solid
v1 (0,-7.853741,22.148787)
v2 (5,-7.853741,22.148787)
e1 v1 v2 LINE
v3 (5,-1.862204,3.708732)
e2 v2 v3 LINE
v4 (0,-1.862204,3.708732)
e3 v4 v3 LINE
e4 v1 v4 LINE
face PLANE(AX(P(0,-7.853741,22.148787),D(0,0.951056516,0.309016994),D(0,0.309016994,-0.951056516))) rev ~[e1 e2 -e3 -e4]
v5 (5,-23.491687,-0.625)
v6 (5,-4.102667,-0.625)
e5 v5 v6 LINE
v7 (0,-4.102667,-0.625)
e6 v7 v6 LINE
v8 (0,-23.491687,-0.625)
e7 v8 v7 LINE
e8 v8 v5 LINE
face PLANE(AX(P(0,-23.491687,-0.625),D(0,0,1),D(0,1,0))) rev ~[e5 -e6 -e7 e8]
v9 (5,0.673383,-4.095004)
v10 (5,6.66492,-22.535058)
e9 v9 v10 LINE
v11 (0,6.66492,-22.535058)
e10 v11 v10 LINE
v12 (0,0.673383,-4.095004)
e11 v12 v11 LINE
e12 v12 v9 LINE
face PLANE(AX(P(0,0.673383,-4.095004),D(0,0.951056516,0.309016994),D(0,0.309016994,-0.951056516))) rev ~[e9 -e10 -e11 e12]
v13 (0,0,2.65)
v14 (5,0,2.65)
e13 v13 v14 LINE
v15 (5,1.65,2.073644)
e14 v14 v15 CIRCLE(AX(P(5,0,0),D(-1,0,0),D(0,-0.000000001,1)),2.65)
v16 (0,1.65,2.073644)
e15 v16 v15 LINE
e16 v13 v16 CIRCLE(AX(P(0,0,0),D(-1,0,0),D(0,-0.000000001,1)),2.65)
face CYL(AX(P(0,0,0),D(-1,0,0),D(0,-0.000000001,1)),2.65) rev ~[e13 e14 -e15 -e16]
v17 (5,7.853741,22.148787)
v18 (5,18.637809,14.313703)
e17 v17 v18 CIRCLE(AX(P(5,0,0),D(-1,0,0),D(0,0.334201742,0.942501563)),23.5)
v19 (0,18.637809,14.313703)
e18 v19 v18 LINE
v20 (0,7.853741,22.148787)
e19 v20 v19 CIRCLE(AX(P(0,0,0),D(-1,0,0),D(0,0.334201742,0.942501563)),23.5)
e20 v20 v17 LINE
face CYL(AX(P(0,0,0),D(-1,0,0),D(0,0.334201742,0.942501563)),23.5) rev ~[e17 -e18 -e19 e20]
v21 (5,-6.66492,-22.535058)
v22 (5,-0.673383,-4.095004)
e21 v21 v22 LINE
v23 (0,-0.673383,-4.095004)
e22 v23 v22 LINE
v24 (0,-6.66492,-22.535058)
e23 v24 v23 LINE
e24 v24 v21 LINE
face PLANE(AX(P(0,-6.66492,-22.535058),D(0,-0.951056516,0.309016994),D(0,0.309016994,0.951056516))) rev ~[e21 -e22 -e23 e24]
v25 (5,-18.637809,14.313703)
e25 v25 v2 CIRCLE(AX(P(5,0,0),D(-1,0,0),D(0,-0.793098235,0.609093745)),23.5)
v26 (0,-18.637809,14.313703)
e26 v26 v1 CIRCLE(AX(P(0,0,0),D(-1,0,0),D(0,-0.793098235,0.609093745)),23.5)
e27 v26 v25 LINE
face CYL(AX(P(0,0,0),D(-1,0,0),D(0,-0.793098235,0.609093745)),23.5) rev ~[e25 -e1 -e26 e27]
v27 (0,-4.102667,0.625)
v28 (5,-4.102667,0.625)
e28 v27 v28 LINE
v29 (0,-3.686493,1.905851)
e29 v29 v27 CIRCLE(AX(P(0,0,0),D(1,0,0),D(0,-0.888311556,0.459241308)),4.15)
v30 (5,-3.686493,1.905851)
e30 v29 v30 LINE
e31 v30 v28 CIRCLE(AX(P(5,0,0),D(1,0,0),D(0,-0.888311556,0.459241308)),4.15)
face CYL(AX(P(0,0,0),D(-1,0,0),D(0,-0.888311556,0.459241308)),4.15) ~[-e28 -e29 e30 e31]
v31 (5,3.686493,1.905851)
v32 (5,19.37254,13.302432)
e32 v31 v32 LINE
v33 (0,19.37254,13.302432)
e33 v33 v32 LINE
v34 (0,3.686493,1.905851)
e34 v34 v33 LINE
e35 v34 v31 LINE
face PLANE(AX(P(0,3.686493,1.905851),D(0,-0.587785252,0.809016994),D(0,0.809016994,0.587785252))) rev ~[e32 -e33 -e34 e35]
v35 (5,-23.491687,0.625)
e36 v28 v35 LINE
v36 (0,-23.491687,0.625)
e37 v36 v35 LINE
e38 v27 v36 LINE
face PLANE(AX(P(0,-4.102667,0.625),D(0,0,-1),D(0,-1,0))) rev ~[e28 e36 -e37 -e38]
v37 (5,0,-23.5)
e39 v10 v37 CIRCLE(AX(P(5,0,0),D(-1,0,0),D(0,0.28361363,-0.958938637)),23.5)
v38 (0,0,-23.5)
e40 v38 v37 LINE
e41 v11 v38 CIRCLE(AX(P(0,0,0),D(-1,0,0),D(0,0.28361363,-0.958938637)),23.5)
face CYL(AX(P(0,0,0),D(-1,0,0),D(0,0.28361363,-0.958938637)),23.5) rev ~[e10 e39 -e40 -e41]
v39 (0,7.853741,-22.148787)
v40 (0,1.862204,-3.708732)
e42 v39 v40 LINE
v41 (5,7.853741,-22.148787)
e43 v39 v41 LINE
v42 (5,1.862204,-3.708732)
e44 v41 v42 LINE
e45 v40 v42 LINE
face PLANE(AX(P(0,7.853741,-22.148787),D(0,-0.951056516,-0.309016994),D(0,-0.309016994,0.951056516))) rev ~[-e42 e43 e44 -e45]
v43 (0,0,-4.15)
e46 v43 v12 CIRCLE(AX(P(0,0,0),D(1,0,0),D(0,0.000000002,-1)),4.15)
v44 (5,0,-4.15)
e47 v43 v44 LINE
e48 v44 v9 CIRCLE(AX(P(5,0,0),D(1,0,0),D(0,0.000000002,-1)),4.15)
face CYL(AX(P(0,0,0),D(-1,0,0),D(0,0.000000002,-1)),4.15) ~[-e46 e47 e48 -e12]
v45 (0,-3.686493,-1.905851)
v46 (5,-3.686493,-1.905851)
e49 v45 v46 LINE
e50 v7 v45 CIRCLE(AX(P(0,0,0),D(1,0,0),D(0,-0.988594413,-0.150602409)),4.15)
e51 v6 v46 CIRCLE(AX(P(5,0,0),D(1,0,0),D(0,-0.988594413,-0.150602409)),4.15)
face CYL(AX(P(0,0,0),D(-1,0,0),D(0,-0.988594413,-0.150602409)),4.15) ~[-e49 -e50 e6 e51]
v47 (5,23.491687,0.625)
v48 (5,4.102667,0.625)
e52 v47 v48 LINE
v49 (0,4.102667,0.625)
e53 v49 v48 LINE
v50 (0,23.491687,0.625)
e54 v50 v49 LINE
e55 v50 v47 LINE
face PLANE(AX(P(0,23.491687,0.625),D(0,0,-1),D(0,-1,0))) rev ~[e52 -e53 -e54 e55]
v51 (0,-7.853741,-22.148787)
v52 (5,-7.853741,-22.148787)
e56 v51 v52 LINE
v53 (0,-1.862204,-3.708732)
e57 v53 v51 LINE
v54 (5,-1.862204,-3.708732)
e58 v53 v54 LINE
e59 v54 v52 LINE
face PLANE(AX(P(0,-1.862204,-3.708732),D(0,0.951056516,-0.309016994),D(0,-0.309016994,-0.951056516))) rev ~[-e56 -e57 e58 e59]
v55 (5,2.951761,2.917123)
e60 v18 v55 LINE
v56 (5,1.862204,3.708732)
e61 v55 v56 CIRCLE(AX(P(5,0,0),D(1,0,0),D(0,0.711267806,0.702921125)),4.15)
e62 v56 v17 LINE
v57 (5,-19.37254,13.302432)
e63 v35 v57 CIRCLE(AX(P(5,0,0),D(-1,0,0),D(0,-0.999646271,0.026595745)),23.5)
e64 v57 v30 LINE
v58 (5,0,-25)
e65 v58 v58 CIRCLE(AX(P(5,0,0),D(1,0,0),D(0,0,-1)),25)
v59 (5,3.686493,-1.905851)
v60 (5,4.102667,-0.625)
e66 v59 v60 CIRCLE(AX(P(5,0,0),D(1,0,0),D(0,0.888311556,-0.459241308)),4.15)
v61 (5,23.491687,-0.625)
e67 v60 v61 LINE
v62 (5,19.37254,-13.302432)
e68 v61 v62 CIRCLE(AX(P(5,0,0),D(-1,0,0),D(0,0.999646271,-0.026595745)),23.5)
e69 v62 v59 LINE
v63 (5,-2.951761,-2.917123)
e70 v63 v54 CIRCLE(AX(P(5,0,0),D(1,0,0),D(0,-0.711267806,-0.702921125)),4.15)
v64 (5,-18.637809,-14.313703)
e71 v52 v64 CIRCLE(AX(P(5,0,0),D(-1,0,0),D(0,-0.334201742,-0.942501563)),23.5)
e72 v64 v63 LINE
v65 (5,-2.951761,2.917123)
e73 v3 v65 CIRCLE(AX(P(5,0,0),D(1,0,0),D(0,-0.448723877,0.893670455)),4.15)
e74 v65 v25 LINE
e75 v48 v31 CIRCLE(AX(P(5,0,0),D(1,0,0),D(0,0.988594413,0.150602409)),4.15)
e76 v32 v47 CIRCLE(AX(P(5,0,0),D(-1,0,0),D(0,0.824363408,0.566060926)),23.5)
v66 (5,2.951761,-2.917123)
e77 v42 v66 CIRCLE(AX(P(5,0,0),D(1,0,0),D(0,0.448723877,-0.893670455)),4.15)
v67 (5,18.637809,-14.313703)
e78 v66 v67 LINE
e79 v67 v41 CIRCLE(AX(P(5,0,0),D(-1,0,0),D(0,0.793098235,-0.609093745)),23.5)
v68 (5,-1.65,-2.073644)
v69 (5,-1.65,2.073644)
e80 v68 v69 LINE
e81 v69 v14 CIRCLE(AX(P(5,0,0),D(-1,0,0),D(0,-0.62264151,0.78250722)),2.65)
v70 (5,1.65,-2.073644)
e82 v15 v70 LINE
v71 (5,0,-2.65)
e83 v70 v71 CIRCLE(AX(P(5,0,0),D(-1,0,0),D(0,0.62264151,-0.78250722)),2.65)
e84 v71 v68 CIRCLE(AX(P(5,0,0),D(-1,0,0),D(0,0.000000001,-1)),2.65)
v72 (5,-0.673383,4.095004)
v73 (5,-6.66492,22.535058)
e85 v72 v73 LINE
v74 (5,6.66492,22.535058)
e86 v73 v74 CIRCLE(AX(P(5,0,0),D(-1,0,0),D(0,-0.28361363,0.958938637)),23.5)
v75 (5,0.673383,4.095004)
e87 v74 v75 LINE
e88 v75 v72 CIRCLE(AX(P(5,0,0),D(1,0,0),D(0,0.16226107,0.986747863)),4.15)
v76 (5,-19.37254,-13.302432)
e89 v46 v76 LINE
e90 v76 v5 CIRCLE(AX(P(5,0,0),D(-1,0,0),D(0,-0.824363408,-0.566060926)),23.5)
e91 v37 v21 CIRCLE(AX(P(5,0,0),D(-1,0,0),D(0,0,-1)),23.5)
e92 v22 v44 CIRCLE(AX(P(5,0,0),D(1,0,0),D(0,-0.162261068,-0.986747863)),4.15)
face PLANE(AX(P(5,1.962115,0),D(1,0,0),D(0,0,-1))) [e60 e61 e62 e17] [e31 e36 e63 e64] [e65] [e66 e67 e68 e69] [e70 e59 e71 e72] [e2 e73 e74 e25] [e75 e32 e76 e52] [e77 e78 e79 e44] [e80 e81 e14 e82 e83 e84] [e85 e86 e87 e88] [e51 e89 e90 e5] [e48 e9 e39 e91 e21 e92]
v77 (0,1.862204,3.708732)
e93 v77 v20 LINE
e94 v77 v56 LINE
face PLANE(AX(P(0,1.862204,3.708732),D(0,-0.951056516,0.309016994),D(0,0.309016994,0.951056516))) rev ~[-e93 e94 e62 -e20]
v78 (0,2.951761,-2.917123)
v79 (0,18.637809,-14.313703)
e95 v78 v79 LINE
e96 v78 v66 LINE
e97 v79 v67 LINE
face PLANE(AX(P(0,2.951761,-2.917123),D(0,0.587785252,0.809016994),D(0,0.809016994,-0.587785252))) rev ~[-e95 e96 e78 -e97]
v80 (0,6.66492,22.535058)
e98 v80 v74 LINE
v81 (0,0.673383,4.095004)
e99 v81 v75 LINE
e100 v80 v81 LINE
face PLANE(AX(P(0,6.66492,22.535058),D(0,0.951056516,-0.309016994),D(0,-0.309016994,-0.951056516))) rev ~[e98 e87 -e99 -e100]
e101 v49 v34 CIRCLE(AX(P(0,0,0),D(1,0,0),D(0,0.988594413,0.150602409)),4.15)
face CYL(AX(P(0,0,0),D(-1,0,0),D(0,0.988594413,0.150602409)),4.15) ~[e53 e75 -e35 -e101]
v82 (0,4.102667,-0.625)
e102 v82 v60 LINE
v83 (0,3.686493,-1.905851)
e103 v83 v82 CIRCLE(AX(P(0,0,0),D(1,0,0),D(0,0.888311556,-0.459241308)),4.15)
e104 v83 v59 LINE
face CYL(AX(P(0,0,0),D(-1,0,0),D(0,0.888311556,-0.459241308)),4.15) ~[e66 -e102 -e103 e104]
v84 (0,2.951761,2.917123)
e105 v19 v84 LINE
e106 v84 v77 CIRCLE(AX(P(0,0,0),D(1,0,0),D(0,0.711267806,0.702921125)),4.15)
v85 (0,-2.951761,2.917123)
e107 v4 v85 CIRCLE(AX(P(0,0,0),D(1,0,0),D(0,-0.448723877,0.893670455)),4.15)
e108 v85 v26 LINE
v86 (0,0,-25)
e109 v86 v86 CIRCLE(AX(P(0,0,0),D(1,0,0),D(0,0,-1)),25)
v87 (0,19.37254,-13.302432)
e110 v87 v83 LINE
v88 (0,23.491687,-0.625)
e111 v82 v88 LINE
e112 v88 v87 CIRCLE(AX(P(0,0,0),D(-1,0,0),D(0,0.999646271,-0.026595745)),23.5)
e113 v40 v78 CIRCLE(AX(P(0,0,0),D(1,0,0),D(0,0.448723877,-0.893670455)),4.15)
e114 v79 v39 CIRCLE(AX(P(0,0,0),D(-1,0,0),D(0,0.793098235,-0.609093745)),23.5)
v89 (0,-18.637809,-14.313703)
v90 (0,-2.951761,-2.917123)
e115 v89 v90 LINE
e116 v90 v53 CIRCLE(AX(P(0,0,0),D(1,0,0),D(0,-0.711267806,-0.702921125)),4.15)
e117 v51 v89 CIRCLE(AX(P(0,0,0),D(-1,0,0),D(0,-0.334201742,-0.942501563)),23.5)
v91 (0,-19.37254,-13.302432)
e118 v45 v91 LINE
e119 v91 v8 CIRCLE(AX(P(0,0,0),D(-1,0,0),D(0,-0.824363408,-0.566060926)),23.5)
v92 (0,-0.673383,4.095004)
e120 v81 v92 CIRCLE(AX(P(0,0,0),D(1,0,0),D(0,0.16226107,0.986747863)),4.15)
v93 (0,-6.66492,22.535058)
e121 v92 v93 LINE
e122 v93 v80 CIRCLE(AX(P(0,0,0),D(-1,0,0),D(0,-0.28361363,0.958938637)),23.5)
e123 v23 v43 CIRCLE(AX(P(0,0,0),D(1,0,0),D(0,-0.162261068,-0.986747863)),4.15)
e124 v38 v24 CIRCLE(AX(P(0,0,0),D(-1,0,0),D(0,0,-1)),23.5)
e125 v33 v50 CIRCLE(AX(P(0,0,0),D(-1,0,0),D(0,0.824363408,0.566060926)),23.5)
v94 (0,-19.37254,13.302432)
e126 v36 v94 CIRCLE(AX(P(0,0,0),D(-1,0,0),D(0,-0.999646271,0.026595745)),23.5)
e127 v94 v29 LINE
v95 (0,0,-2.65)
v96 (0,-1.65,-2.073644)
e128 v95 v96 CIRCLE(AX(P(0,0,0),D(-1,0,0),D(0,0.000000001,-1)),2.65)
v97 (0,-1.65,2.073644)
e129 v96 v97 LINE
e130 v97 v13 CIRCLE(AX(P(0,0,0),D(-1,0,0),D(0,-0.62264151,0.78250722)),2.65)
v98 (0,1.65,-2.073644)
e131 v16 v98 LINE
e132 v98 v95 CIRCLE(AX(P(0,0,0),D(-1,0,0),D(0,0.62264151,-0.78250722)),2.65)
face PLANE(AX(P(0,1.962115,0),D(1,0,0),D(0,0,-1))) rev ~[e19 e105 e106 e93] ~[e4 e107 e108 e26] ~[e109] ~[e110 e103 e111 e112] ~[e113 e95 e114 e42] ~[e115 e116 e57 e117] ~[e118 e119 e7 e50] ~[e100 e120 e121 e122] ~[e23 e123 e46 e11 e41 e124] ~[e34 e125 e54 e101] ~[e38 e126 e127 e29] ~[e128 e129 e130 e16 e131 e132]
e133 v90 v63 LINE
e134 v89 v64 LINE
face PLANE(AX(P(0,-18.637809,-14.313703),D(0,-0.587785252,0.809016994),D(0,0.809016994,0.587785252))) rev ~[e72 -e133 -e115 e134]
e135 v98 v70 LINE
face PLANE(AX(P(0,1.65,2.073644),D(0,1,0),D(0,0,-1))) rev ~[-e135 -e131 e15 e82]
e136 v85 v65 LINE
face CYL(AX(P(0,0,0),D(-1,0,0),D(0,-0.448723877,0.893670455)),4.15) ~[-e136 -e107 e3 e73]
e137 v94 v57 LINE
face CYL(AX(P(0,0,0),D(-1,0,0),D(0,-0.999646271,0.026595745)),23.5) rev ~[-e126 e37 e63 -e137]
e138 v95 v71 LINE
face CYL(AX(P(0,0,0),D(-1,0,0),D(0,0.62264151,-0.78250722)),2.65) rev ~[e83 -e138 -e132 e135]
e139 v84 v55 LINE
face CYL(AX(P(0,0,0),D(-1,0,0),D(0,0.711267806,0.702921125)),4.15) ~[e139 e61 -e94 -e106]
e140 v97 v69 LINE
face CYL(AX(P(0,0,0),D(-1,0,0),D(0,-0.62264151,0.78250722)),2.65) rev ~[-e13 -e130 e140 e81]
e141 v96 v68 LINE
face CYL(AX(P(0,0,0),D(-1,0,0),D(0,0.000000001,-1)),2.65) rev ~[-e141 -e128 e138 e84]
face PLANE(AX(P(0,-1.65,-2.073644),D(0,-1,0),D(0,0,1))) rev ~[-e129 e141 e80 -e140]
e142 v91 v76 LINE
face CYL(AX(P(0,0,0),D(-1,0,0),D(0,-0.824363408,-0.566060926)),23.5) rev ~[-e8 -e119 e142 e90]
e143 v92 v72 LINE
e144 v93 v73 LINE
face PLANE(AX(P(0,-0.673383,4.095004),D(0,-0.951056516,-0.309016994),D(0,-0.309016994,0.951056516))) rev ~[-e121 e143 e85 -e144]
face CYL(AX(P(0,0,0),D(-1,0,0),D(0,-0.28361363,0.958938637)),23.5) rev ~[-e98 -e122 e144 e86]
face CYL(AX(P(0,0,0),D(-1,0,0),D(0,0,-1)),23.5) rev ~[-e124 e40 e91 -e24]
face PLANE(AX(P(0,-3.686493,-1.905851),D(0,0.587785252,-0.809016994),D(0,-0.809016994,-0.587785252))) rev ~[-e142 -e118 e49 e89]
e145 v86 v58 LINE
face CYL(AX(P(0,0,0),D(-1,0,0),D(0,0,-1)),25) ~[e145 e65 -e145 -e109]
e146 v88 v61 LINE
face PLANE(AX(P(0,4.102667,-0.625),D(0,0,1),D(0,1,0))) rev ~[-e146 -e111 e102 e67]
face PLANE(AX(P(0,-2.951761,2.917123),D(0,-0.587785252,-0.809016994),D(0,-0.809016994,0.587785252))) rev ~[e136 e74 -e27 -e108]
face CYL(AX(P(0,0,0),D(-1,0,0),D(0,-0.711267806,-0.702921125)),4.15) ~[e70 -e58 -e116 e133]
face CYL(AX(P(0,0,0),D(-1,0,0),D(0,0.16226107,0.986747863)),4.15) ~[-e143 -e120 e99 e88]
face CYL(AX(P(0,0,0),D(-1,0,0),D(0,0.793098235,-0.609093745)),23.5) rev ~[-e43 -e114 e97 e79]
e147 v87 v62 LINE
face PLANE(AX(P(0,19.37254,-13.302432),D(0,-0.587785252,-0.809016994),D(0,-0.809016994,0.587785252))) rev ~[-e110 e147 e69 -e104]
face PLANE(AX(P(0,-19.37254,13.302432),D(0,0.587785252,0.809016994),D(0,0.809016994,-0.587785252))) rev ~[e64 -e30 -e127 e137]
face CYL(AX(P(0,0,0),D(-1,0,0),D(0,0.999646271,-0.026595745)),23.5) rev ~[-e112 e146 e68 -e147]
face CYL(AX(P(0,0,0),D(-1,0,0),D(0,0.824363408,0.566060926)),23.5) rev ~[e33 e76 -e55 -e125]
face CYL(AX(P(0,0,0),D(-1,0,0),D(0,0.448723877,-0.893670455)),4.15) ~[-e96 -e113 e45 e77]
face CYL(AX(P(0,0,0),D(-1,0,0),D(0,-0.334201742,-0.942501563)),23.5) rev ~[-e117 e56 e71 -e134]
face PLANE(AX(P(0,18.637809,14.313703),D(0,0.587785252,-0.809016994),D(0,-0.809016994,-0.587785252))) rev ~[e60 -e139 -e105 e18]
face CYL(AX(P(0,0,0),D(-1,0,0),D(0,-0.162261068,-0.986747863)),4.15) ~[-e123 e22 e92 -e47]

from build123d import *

# Parameters (mm, degrees)
SKETCH1_R           = 25
BOSS_EXTRUDE2_DEPTH = 5


with BuildPart() as part:
    # Sketch1 → Boss-Extrude2 (new body)
    # profile 1 of 38: a face of its own
    with BuildSketch(Plane(origin=(0, 0, 0), x_dir=(0, 0, -1), z_dir=(1, 0, 0))):
        Circle(SKETCH1_R)
        with BuildLine():
            ThreePointArc((-13.30243176, 19.372540083), (-7.261899368, 22.349828133), (-0.625, 23.49168736))
            Line((-0.625, 23.49168736), (-0.625, 23.832616044))
            Line((-0.625, 23.832616044), (0.625, 23.832616044))
            Line((0.625, 23.832616044), (0.625, 23.49168736))
            ThreePointArc((0.625, 23.49168736), (7.261899368, 22.349828133), (13.30243176, 19.372540083))
            Line((13.30243176, 19.372540083), (13.502824613, 19.648357183))
            Line((13.502824613, 19.648357183), (14.514095856, 18.913625618))
            Line((14.514095856, 18.913625618), (14.313703003, 18.637808518))
            ThreePointArc((14.313703003, 18.637808518), (19.011899368, 13.812953429), (22.148786721, 7.853740943))
            Line((22.148786721, 7.853740943), (22.473029168, 7.959093701))
            Line((22.473029168, 7.959093701), (22.859300411, 6.770273055))
            Line((22.859300411, 6.770273055), (22.535057964, 6.664920298))
            ThreePointArc((22.535057964, 6.664920298), (23.257513433, 3.367204913), (23.5, 0))
            ThreePointArc((23.5, 0), (23.257513433, -3.367204913), (22.535057964, -6.664920298))
            Line((22.535057964, -6.664920298), (22.859300411, -6.770273055))
            Line((22.859300411, -6.770273055), (22.473029168, -7.959093701))
            Line((22.473029168, -7.959093701), (22.148786721, -7.853740943))
            ThreePointArc((22.148786721, -7.853740943), (19.011899368, -13.812953429), (14.313703003, -18.637808518))
            Line((14.313703003, -18.637808518), (14.514095856, -18.913625618))
            Line((14.514095856, -18.913625618), (13.502824613, -19.648357183))
            Line((13.502824613, -19.648357183), (13.30243176, -19.372540083))
            ThreePointArc((13.30243176, -19.372540083), (7.261899368, -22.349828133), (0.625, -23.49168736))
            Line((0.625, -23.49168736), (0.625, -23.832616044))
            Line((0.625, -23.832616044), (-0.625, -23.832616044))
            Line((-0.625, -23.832616044), (-0.625, -23.49168736))
            ThreePointArc((-0.625, -23.49168736), (-7.261899368, -22.349828133), (-13.30243176, -19.372540083))
            Line((-13.30243176, -19.372540083), (-13.502824613, -19.648357183))
            Line((-13.502824613, -19.648357183), (-14.514095856, -18.913625618))
            Line((-14.514095856, -18.913625618), (-14.313703003, -18.637808518))
            ThreePointArc((-14.313703003, -18.637808518), (-19.011899368, -13.812953429), (-22.148786721, -7.853740943))
            Line((-22.148786721, -7.853740943), (-22.473029168, -7.959093701))
            Line((-22.473029168, -7.959093701), (-22.859300411, -6.770273055))
            Line((-22.859300411, -6.770273055), (-22.535057964, -6.664920298))
            ThreePointArc((-22.535057964, -6.664920298), (-23.5, 0), (-22.535057964, 6.664920298))
            Line((-22.535057964, 6.664920298), (-22.859300411, 6.770273055))
            Line((-22.859300411, 6.770273055), (-22.473029168, 7.959093701))
            Line((-22.473029168, 7.959093701), (-22.148786721, 7.853740943))
            ThreePointArc((-22.148786721, 7.853740943), (-19.011899368, 13.812953429), (-14.313703003, 18.637808518))
            Line((-14.313703003, 18.637808518), (-14.514095856, 18.913625618))
            Line((-14.514095856, 18.913625618), (-13.502824613, 19.648357183))
            Line((-13.502824613, 19.648357183), (-13.30243176, 19.372540083))
        make_face(mode=Mode.SUBTRACT)
    # profile 2 of 38: a face of its own
    with BuildSketch(Plane(origin=(0, 0, 0), x_dir=(0, 0, -1), z_dir=(1, 0, 0))):
        with BuildLine():
            Line((-0.625, 23.49168736), (-0.625, 4.102666816))
            ThreePointArc((-0.625, 4.102666816), (0, 4.15), (0.625, 4.102666816))
            Line((0.625, 4.102666816), (0.625, 23.49168736))
            ThreePointArc((0.625, 23.49168736), (0, 23.5), (-0.625, 23.49168736))
        make_face()
    # profile 3 of 38: a face of its own
    with BuildSketch(Plane(origin=(0, 0, 0), x_dir=(0, 0, -1), z_dir=(1, 0, 0))):
        with BuildLine():
            Line((-0.625, 23.832616044), (-0.625, 23.49168736))
            ThreePointArc((-0.625, 23.49168736), (0, 23.5), (0.625, 23.49168736))
            Line((0.625, 23.49168736), (0.625, 23.832616044))
            Line((0.625, 23.832616044), (-0.625, 23.832616044))
        make_face()
    # profile 4 of 38: a face of its own
    with BuildSketch(Plane(origin=(0, 0, 0), x_dir=(0, 0, -1), z_dir=(1, 0, 0))):
        with BuildLine():
            ThreePointArc((-14.313703003, 18.637808518), (-13.812953429, 19.011899368), (-13.30243176, 19.372540083))
            Line((-13.30243176, 19.372540083), (-13.502824613, 19.648357183))
            Line((-13.502824613, 19.648357183), (-14.514095856, 18.913625618))
            Line((-14.514095856, 18.913625618), (-14.313703003, 18.637808518))
        make_face()
    # profile 5 of 38: a face of its own
    with BuildSketch(Plane(origin=(0, 0, 0), x_dir=(0, 0, -1), z_dir=(1, 0, 0))):
        with BuildLine():
            ThreePointArc((-2.917122671, 2.951761393), (-2.439308797, 3.357420527), (-1.905851428, 3.686492959))
            Line((-1.905851428, 3.686492959), (-13.30243176, 19.372540083))
            ThreePointArc((-13.30243176, 19.372540083), (-13.812953429, 19.011899368), (-14.313703003, 18.637808518))
            Line((-14.313703003, 18.637808518), (-2.917122671, 2.951761393))
        make_face()
    # profile 6 of 38: a face of its own
    with BuildSketch(Plane(origin=(0, 0, 0), x_dir=(0, 0, -1), z_dir=(1, 0, 0))):
        with BuildLine():
            ThreePointArc((-22.535057964, 6.664920298), (-22.349828133, 7.261899368), (-22.148786721, 7.853740943))
            Line((-22.148786721, 7.853740943), (-22.473029168, 7.959093701))
            Line((-22.473029168, 7.959093701), (-22.859300411, 6.770273055))
            Line((-22.859300411, 6.770273055), (-22.535057964, 6.664920298))
        make_face()
    # profile 7 of 38: a face of its own
    with BuildSketch(Plane(origin=(0, 0, 0), x_dir=(0, 0, -1), z_dir=(1, 0, 0))):
        with BuildLine():
            ThreePointArc((-4.095003631, 0.673383446), (-3.946884543, 1.282420527), (-3.708732388, 1.862204091))
            Line((-3.708732388, 1.862204091), (-22.148786721, 7.853740943))
            ThreePointArc((-22.148786721, 7.853740943), (-22.349828133, 7.261899368), (-22.535057964, 6.664920298))
            Line((-22.535057964, 6.664920298), (-4.095003631, 0.673383446))
        make_face()
    # profile 8 of 38: a face of its own
    with BuildSketch(Plane(origin=(0, 0, 0), x_dir=(0, 0, -1), z_dir=(1, 0, 0))):
        with BuildLine():
            ThreePointArc((-22.148786721, -7.853740943), (-22.349828133, -7.261899368), (-22.535057964, -6.664920298))
            Line((-22.535057964, -6.664920298), (-22.859300411, -6.770273055))
            Line((-22.859300411, -6.770273055), (-22.473029168, -7.959093701))
            Line((-22.473029168, -7.959093701), (-22.148786721, -7.853740943))
        make_face()
    # profile 9 of 38: a face of its own
    with BuildSketch(Plane(origin=(0, 0, 0), x_dir=(0, 0, -1), z_dir=(1, 0, 0))):
        with BuildLine():
            ThreePointArc((-13.30243176, -19.372540083), (-13.812953429, -19.011899368), (-14.313703003, -18.637808518))
            Line((-14.313703003, -18.637808518), (-14.514095856, -18.913625618))
            Line((-14.514095856, -18.913625618), (-13.502824613, -19.648357183))
            Line((-13.502824613, -19.648357183), (-13.30243176, -19.372540083))
        make_face()
    # profile 10 of 38: a face of its own
    with BuildSketch(Plane(origin=(0, 0, 0), x_dir=(0, 0, -1), z_dir=(1, 0, 0))):
        with BuildLine():
            ThreePointArc((-1.905851428, -3.686492959), (-2.439308797, -3.357420527), (-2.917122671, -2.951761393))
            Line((-2.917122671, -2.951761393), (-14.313703003, -18.637808518))
            ThreePointArc((-14.313703003, -18.637808518), (-13.812953429, -19.011899368), (-13.30243176, -19.372540083))
            Line((-13.30243176, -19.372540083), (-1.905851428, -3.686492959))
        make_face()
    # profile 11 of 38: a face of its own
    with BuildSketch(Plane(origin=(0, 0, 0), x_dir=(0, 0, -1), z_dir=(1, 0, 0))):
        with BuildLine():
            ThreePointArc((-3.708732388, -1.862204091), (-3.946884543, -1.282420527), (-4.095003631, -0.673383446))
            Line((-4.095003631, -0.673383446), (-22.535057964, -6.664920298))
            ThreePointArc((-22.535057964, -6.664920298), (-22.349828133, -7.261899368), (-22.148786721, -7.853740943))
            Line((-22.148786721, -7.853740943), (-3.708732388, -1.862204091))
        make_face()
    # profile 12 of 38: a face of its own
    with BuildSketch(Plane(origin=(0, 0, 0), x_dir=(0, 0, -1), z_dir=(1, 0, 0))):
        with BuildLine():
            ThreePointArc((0.625, -23.49168736), (0, -23.5), (-0.625, -23.49168736))
            Line((-0.625, -23.49168736), (-0.625, -23.832616044))
            Line((-0.625, -23.832616044), (0.625, -23.832616044))
            Line((0.625, -23.832616044), (0.625, -23.49168736))
        make_face()
    # profile 13 of 38: a face of its own
    with BuildSketch(Plane(origin=(0, 0, 0), x_dir=(0, 0, -1), z_dir=(1, 0, 0))):
        with BuildLine():
            ThreePointArc((0.625, -4.102666816), (0, -4.15), (-0.625, -4.102666816))
            Line((-0.625, -4.102666816), (-0.625, -23.49168736))
            ThreePointArc((-0.625, -23.49168736), (0, -23.5), (0.625, -23.49168736))
            Line((0.625, -23.49168736), (0.625, -4.102666816))
        make_face()
    # profile 14 of 38: a face of its own
    with BuildSketch(Plane(origin=(0, 0, 0), x_dir=(0, 0, -1), z_dir=(1, 0, 0))):
        with BuildLine():
            Line((14.514095856, -18.913625618), (14.313703003, -18.637808518))
            ThreePointArc((14.313703003, -18.637808518), (13.812953429, -19.011899368), (13.30243176, -19.372540083))
            Line((13.30243176, -19.372540083), (13.502824613, -19.648357183))
            Line((13.502824613, -19.648357183), (14.514095856, -18.913625618))
        make_face()
    # profile 15 of 38: a face of its own
    with BuildSketch(Plane(origin=(0, 0, 0), x_dir=(0, 0, -1), z_dir=(1, 0, 0))):
        with BuildLine():
            Line((14.313703003, -18.637808518), (2.917122671, -2.951761393))
            ThreePointArc((2.917122671, -2.951761393), (2.439308797, -3.357420527), (1.905851428, -3.686492959))
            Line((1.905851428, -3.686492959), (13.30243176, -19.372540083))
            ThreePointArc((13.30243176, -19.372540083), (13.812953429, -19.011899368), (14.313703003, -18.637808518))
        make_face()
    # profile 16 of 38: a face of its own
    with BuildSketch(Plane(origin=(0, 0, 0), x_dir=(0, 0, -1), z_dir=(1, 0, 0))):
        with BuildLine():
            Line((22.859300411, -6.770273055), (22.535057964, -6.664920298))
            ThreePointArc((22.535057964, -6.664920298), (22.349828133, -7.261899368), (22.148786721, -7.853740943))
            Line((22.148786721, -7.853740943), (22.473029168, -7.959093701))
            Line((22.473029168, -7.959093701), (22.859300411, -6.770273055))
        make_face()
    # profile 17 of 38: a face of its own
    with BuildSketch(Plane(origin=(0, 0, 0), x_dir=(0, 0, -1), z_dir=(1, 0, 0))):
        with BuildLine():
            Line((22.535057964, -6.664920298), (4.095003631, -0.673383446))
            ThreePointArc((4.095003631, -0.673383446), (3.946884543, -1.282420527), (3.708732388, -1.862204091))
            Line((3.708732388, -1.862204091), (22.148786721, -7.853740943))
            ThreePointArc((22.148786721, -7.853740943), (22.349828133, -7.261899368), (22.535057964, -6.664920298))
        make_face()
    # profile 18 of 38: a face of its own
    with BuildSketch(Plane(origin=(0, 0, 0), x_dir=(0, 0, -1), z_dir=(1, 0, 0))):
        with BuildLine():
            Line((22.473029168, 7.959093701), (22.148786721, 7.853740943))
            ThreePointArc((22.148786721, 7.853740943), (22.349828133, 7.261899368), (22.535057964, 6.664920298))
            Line((22.535057964, 6.664920298), (22.859300411, 6.770273055))
            Line((22.859300411, 6.770273055), (22.473029168, 7.959093701))
        make_face()
    # profile 19 of 38: a face of its own
    with BuildSketch(Plane(origin=(0, 0, 0), x_dir=(0, 0, -1), z_dir=(1, 0, 0))):
        with BuildLine():
            Line((22.148786721, 7.853740943), (3.708732388, 1.862204091))
            ThreePointArc((3.708732388, 1.862204091), (3.946884543, 1.282420527), (4.095003631, 0.673383446))
            Line((4.095003631, 0.673383446), (22.535057964, 6.664920298))
            ThreePointArc((22.535057964, 6.664920298), (22.349828133, 7.261899368), (22.148786721, 7.853740943))
        make_face()
    # profile 20 of 38: a face of its own
    with BuildSketch(Plane(origin=(0, 0, 0), x_dir=(0, 0, -1), z_dir=(1, 0, 0))):
        with BuildLine():
            Line((13.502824613, 19.648357183), (13.30243176, 19.372540083))
            ThreePointArc((13.30243176, 19.372540083), (13.812953429, 19.011899368), (14.313703003, 18.637808518))
            Line((14.313703003, 18.637808518), (14.514095856, 18.913625618))
            Line((14.514095856, 18.913625618), (13.502824613, 19.648357183))
        make_face()
    # profile 21 of 38: a face of its own
    with BuildSketch(Plane(origin=(0, 0, 0), x_dir=(0, 0, -1), z_dir=(1, 0, 0))):
        with BuildLine():
            Line((13.30243176, 19.372540083), (1.905851428, 3.686492959))
            ThreePointArc((1.905851428, 3.686492959), (2.439308797, 3.357420527), (2.917122671, 2.951761393))
            Line((2.917122671, 2.951761393), (14.313703003, 18.637808518))
            ThreePointArc((14.313703003, 18.637808518), (13.812953429, 19.011899368), (13.30243176, 19.372540083))
        make_face()
    # profile 22 of 38: a face of its own
    with BuildSketch(Plane(origin=(0, 0, 0), x_dir=(0, 0, -1), z_dir=(1, 0, 0))):
        with BuildLine():
            Line((-3.838170085, -0.589933168), (-4.095003631, -0.673383446))
            ThreePointArc((-4.095003631, -0.673383446), (-3.946884543, -1.282420527), (-3.708732388, -1.862204091))
            Line((-3.708732388, -1.862204091), (-3.451898842, -1.778753813))
            Line((-3.451898842, -1.778753813), (-3.838170085, -0.589933168))
        make_face()
    # profile 23 of 38: a face of its own
    with BuildSketch(Plane(origin=(0, 0, 0), x_dir=(0, 0, -1), z_dir=(1, 0, 0))):
        with BuildLine():
            Line((-2.75839081, -2.73328573), (-2.917122671, -2.951761393))
            ThreePointArc((-2.917122671, -2.951761393), (-2.439308797, -3.357420527), (-1.905851428, -3.686492959))
            Line((-1.905851428, -3.686492959), (-1.747119567, -3.468017295))
            Line((-1.747119567, -3.468017295), (-2.75839081, -2.73328573))
        make_face()
    # profile 24 of 38: a face of its own
    with BuildSketch(Plane(origin=(0, 0, 0), x_dir=(0, 0, -1), z_dir=(1, 0, 0))):
        with BuildLine():
            Line((-0.625, -3.832616044), (-0.625, -4.102666816))
            ThreePointArc((-0.625, -4.102666816), (0, -4.15), (0.625, -4.102666816))
            Line((0.625, -4.102666816), (0.625, -3.832616044))
            Line((0.625, -3.832616044), (-0.625, -3.832616044))
        make_face()
    # profile 25 of 38: a face of its own
    with BuildSketch(Plane(origin=(0, 0, 0), x_dir=(0, 0, -1), z_dir=(1, 0, 0))):
        with BuildLine():
            ThreePointArc((1.905851428, -3.686492959), (2.439308797, -3.357420527), (2.917122671, -2.951761393))
            Line((2.917122671, -2.951761393), (2.75839081, -2.73328573))
            Line((2.75839081, -2.73328573), (1.747119567, -3.468017295))
            Line((1.747119567, -3.468017295), (1.905851428, -3.686492959))
        make_face()
    # profile 26 of 38: a face of its own
    with BuildSketch(Plane(origin=(0, 0, 0), x_dir=(0, 0, -1), z_dir=(1, 0, 0))):
        with BuildLine():
            ThreePointArc((3.708732388, -1.862204091), (3.946884543, -1.282420527), (4.095003631, -0.673383446))
            Line((4.095003631, -0.673383446), (3.838170085, -0.589933168))
            Line((3.838170085, -0.589933168), (3.451898842, -1.778753813))
            Line((3.451898842, -1.778753813), (3.708732388, -1.862204091))
        make_face()
    # profile 27 of 38: a face of its own
    with BuildSketch(Plane(origin=(0, 0, 0), x_dir=(0, 0, -1), z_dir=(1, 0, 0))):
        with BuildLine():
            ThreePointArc((4.095003631, 0.673383446), (3.946884543, 1.282420527), (3.708732388, 1.862204091))
            Line((3.708732388, 1.862204091), (3.451898842, 1.778753813))
            Line((3.451898842, 1.778753813), (3.838170085, 0.589933168))
            Line((3.838170085, 0.589933168), (4.095003631, 0.673383446))
        make_face()
    # profile 28 of 38: a face of its own
    with BuildSketch(Plane(origin=(0, 0, 0), x_dir=(0, 0, -1), z_dir=(1, 0, 0))):
        with BuildLine():
            ThreePointArc((2.917122671, 2.951761393), (2.439308797, 3.357420527), (1.905851428, 3.686492959))
            Line((1.905851428, 3.686492959), (1.747119567, 3.468017295))
            Line((1.747119567, 3.468017295), (2.75839081, 2.73328573))
            Line((2.75839081, 2.73328573), (2.917122671, 2.951761393))
        make_face()
    # profile 29 of 38: a face of its own
    with BuildSketch(Plane(origin=(0, 0, 0), x_dir=(0, 0, -1), z_dir=(1, 0, 0))):
        with BuildLine():
            Line((-0.625, 4.102666816), (-0.625, 3.832616044))
            Line((-0.625, 3.832616044), (0.625, 3.832616044))
            Line((0.625, 3.832616044), (0.625, 4.102666816))
            ThreePointArc((0.625, 4.102666816), (0, 4.15), (-0.625, 4.102666816))
        make_face()
    # profile 30 of 38: a face of its own
    with BuildSketch(Plane(origin=(0, 0, 0), x_dir=(0, 0, -1), z_dir=(1, 0, 0))):
        with BuildLine():
            Line((-1.747119567, 3.468017295), (-1.905851428, 3.686492959))
            ThreePointArc((-1.905851428, 3.686492959), (-2.439308797, 3.357420527), (-2.917122671, 2.951761393))
            Line((-2.917122671, 2.951761393), (-2.75839081, 2.73328573))
            Line((-2.75839081, 2.73328573), (-1.747119567, 3.468017295))
        make_face()
    # profile 31 of 38: a face of its own
    with BuildSketch(Plane(origin=(0, 0, 0), x_dir=(0, 0, -1), z_dir=(1, 0, 0))):
        with BuildLine():
            Line((-3.451898842, 1.778753813), (-3.708732388, 1.862204091))
            ThreePointArc((-3.708732388, 1.862204091), (-3.946884543, 1.282420527), (-4.095003631, 0.673383446))
            Line((-4.095003631, 0.673383446), (-3.838170085, 0.589933168))
            Line((-3.838170085, 0.589933168), (-3.451898842, 1.778753813))
        make_face()
    # profile 32 of 38: a face of its own
    with BuildSketch(Plane(origin=(0, 0, 0), x_dir=(0, 0, -1), z_dir=(1, 0, 0))):
        with BuildLine():
            Line((0.625, 3.832616044), (-0.625, 3.832616044))
            Line((-0.625, 3.832616044), (-0.625, 4.102666816))
            ThreePointArc((-0.625, 4.102666816), (-1.282420527, 3.946884543), (-1.905851428, 3.686492959))
            Line((-1.905851428, 3.686492959), (-1.747119567, 3.468017295))
            Line((-1.747119567, 3.468017295), (-2.75839081, 2.73328573))
            Line((-2.75839081, 2.73328573), (-2.917122671, 2.951761393))
            ThreePointArc((-2.917122671, 2.951761393), (-3.357420527, 2.439308797), (-3.708732388, 1.862204091))
            Line((-3.708732388, 1.862204091), (-3.451898842, 1.778753813))
            Line((-3.451898842, 1.778753813), (-3.838170085, 0.589933168))
            Line((-3.838170085, 0.589933168), (-4.095003631, 0.673383446))
            ThreePointArc((-4.095003631, 0.673383446), (-4.15, 0), (-4.095003631, -0.673383446))
            Line((-4.095003631, -0.673383446), (-3.838170085, -0.589933168))
            Line((-3.838170085, -0.589933168), (-3.451898842, -1.778753813))
            Line((-3.451898842, -1.778753813), (-3.708732388, -1.862204091))
            ThreePointArc((-3.708732388, -1.862204091), (-3.357420527, -2.439308797), (-2.917122671, -2.951761393))
            Line((-2.917122671, -2.951761393), (-2.75839081, -2.73328573))
            Line((-2.75839081, -2.73328573), (-1.747119567, -3.468017295))
            Line((-1.747119567, -3.468017295), (-1.905851428, -3.686492959))
            ThreePointArc((-1.905851428, -3.686492959), (-1.282420527, -3.946884543), (-0.625, -4.102666816))
            Line((-0.625, -4.102666816), (-0.625, -3.832616044))
            Line((-0.625, -3.832616044), (0.625, -3.832616044))
            Line((0.625, -3.832616044), (0.625, -4.102666816))
            ThreePointArc((0.625, -4.102666816), (1.282420527, -3.946884543), (1.905851428, -3.686492959))
            Line((1.905851428, -3.686492959), (1.747119567, -3.468017295))
            Line((1.747119567, -3.468017295), (2.75839081, -2.73328573))
            Line((2.75839081, -2.73328573), (2.917122671, -2.951761393))
            ThreePointArc((2.917122671, -2.951761393), (3.357420527, -2.439308797), (3.708732388, -1.862204091))
            Line((3.708732388, -1.862204091), (3.451898842, -1.778753813))
            Line((3.451898842, -1.778753813), (3.838170085, -0.589933168))
            Line((3.838170085, -0.589933168), (4.095003631, -0.673383446))
            ThreePointArc((4.095003631, -0.673383446), (4.136228056, -0.337812768), (4.15, 0))
            ThreePointArc((4.15, 0), (4.136228056, 0.337812768), (4.095003631, 0.673383446))
            Line((4.095003631, 0.673383446), (3.838170085, 0.589933168))
            Line((3.838170085, 0.589933168), (3.451898842, 1.778753813))
            Line((3.451898842, 1.778753813), (3.708732388, 1.862204091))
            ThreePointArc((3.708732388, 1.862204091), (3.357420527, 2.439308797), (2.917122671, 2.951761393))
            Line((2.917122671, 2.951761393), (2.75839081, 2.73328573))
            Line((2.75839081, 2.73328573), (1.747119567, 3.468017295))
            Line((1.747119567, 3.468017295), (1.905851428, 3.686492959))
            ThreePointArc((1.905851428, 3.686492959), (1.282420527, 3.946884543), (0.625, 4.102666816))
            Line((0.625, 4.102666816), (0.625, 3.832616044))
        make_face()
        with BuildLine():
            Line((-2.073644135, -1.65), (-2.65, -1.65))
            Line((-2.65, -1.65), (-2.65, 0))
            Line((-2.65, 0), (-2.65, 1.65))
            Line((-2.65, 1.65), (-2.073644135, 1.65))
            ThreePointArc((-2.073644135, 1.65), (0, 2.65), (2.073644135, 1.65))
            Line((2.073644135, 1.65), (2.65, 1.65))
            Line((2.65, 1.65), (2.65, 0))
            Line((2.65, 0), (2.65, -1.65))
            Line((2.65, -1.65), (2.073644135, -1.65))
            ThreePointArc((2.073644135, -1.65), (0, -2.65), (-2.073644135, -1.65))
        make_face(mode=Mode.SUBTRACT)
    # profile 33 of 38: a face of its own
    with BuildSketch(Plane(origin=(0, 0, 0), x_dir=(0, 0, -1), z_dir=(1, 0, 0))):
        with BuildLine():
            ThreePointArc((2.073644135, 1.65), (2.501765073, 0.873883013), (2.65, 0))
            Line((2.65, 0), (2.65, 1.65))
            Line((2.65, 1.65), (2.073644135, 1.65))
        make_face()
    # profile 34 of 38: a face of its own
    with BuildSketch(Plane(origin=(0, 0, 0), x_dir=(0, 0, -1), z_dir=(1, 0, 0))):
        with BuildLine():
            ThreePointArc((2.65, 0), (2.501765073, -0.873883013), (2.073644135, -1.65))
            Line((2.073644135, -1.65), (2.65, -1.65))
            Line((2.65, -1.65), (2.65, 0))
        make_face()
    # profile 35 of 38: a face of its own
    with BuildSketch(Plane(origin=(0, 0, 0), x_dir=(0, 0, -1), z_dir=(1, 0, 0))):
        with BuildLine():
            Line((2.073644135, -1.65), (-2.073644135, -1.65))
            ThreePointArc((-2.073644135, -1.65), (0, -2.65), (2.073644135, -1.65))
        make_face()
    # profile 36 of 38: a face of its own
    with BuildSketch(Plane(origin=(0, 0, 0), x_dir=(0, 0, -1), z_dir=(1, 0, 0))):
        with BuildLine():
            Line((-2.65, 0), (-2.65, -1.65))
            Line((-2.65, -1.65), (-2.073644135, -1.65))
            ThreePointArc((-2.073644135, -1.65), (-2.501765073, -0.873883013), (-2.65, 0))
        make_face()
    # profile 37 of 38: a face of its own
    with BuildSketch(Plane(origin=(0, 0, 0), x_dir=(0, 0, -1), z_dir=(1, 0, 0))):
        with BuildLine():
            Line((-2.65, 1.65), (-2.65, 0))
            ThreePointArc((-2.65, 0), (-2.501765073, 0.873883013), (-2.073644135, 1.65))
            Line((-2.073644135, 1.65), (-2.65, 1.65))
        make_face()
    # profile 38 of 38: a face of its own
    with BuildSketch(Plane(origin=(0, 0, 0), x_dir=(0, 0, -1), z_dir=(1, 0, 0))):
        with BuildLine():
            ThreePointArc((2.073644135, 1.65), (0, 2.65), (-2.073644135, 1.65))
            Line((-2.073644135, 1.65), (2.073644135, 1.65))
        make_face()
    extrude(amount=BOSS_EXTRUDE2_DEPTH)


solid = part.part
